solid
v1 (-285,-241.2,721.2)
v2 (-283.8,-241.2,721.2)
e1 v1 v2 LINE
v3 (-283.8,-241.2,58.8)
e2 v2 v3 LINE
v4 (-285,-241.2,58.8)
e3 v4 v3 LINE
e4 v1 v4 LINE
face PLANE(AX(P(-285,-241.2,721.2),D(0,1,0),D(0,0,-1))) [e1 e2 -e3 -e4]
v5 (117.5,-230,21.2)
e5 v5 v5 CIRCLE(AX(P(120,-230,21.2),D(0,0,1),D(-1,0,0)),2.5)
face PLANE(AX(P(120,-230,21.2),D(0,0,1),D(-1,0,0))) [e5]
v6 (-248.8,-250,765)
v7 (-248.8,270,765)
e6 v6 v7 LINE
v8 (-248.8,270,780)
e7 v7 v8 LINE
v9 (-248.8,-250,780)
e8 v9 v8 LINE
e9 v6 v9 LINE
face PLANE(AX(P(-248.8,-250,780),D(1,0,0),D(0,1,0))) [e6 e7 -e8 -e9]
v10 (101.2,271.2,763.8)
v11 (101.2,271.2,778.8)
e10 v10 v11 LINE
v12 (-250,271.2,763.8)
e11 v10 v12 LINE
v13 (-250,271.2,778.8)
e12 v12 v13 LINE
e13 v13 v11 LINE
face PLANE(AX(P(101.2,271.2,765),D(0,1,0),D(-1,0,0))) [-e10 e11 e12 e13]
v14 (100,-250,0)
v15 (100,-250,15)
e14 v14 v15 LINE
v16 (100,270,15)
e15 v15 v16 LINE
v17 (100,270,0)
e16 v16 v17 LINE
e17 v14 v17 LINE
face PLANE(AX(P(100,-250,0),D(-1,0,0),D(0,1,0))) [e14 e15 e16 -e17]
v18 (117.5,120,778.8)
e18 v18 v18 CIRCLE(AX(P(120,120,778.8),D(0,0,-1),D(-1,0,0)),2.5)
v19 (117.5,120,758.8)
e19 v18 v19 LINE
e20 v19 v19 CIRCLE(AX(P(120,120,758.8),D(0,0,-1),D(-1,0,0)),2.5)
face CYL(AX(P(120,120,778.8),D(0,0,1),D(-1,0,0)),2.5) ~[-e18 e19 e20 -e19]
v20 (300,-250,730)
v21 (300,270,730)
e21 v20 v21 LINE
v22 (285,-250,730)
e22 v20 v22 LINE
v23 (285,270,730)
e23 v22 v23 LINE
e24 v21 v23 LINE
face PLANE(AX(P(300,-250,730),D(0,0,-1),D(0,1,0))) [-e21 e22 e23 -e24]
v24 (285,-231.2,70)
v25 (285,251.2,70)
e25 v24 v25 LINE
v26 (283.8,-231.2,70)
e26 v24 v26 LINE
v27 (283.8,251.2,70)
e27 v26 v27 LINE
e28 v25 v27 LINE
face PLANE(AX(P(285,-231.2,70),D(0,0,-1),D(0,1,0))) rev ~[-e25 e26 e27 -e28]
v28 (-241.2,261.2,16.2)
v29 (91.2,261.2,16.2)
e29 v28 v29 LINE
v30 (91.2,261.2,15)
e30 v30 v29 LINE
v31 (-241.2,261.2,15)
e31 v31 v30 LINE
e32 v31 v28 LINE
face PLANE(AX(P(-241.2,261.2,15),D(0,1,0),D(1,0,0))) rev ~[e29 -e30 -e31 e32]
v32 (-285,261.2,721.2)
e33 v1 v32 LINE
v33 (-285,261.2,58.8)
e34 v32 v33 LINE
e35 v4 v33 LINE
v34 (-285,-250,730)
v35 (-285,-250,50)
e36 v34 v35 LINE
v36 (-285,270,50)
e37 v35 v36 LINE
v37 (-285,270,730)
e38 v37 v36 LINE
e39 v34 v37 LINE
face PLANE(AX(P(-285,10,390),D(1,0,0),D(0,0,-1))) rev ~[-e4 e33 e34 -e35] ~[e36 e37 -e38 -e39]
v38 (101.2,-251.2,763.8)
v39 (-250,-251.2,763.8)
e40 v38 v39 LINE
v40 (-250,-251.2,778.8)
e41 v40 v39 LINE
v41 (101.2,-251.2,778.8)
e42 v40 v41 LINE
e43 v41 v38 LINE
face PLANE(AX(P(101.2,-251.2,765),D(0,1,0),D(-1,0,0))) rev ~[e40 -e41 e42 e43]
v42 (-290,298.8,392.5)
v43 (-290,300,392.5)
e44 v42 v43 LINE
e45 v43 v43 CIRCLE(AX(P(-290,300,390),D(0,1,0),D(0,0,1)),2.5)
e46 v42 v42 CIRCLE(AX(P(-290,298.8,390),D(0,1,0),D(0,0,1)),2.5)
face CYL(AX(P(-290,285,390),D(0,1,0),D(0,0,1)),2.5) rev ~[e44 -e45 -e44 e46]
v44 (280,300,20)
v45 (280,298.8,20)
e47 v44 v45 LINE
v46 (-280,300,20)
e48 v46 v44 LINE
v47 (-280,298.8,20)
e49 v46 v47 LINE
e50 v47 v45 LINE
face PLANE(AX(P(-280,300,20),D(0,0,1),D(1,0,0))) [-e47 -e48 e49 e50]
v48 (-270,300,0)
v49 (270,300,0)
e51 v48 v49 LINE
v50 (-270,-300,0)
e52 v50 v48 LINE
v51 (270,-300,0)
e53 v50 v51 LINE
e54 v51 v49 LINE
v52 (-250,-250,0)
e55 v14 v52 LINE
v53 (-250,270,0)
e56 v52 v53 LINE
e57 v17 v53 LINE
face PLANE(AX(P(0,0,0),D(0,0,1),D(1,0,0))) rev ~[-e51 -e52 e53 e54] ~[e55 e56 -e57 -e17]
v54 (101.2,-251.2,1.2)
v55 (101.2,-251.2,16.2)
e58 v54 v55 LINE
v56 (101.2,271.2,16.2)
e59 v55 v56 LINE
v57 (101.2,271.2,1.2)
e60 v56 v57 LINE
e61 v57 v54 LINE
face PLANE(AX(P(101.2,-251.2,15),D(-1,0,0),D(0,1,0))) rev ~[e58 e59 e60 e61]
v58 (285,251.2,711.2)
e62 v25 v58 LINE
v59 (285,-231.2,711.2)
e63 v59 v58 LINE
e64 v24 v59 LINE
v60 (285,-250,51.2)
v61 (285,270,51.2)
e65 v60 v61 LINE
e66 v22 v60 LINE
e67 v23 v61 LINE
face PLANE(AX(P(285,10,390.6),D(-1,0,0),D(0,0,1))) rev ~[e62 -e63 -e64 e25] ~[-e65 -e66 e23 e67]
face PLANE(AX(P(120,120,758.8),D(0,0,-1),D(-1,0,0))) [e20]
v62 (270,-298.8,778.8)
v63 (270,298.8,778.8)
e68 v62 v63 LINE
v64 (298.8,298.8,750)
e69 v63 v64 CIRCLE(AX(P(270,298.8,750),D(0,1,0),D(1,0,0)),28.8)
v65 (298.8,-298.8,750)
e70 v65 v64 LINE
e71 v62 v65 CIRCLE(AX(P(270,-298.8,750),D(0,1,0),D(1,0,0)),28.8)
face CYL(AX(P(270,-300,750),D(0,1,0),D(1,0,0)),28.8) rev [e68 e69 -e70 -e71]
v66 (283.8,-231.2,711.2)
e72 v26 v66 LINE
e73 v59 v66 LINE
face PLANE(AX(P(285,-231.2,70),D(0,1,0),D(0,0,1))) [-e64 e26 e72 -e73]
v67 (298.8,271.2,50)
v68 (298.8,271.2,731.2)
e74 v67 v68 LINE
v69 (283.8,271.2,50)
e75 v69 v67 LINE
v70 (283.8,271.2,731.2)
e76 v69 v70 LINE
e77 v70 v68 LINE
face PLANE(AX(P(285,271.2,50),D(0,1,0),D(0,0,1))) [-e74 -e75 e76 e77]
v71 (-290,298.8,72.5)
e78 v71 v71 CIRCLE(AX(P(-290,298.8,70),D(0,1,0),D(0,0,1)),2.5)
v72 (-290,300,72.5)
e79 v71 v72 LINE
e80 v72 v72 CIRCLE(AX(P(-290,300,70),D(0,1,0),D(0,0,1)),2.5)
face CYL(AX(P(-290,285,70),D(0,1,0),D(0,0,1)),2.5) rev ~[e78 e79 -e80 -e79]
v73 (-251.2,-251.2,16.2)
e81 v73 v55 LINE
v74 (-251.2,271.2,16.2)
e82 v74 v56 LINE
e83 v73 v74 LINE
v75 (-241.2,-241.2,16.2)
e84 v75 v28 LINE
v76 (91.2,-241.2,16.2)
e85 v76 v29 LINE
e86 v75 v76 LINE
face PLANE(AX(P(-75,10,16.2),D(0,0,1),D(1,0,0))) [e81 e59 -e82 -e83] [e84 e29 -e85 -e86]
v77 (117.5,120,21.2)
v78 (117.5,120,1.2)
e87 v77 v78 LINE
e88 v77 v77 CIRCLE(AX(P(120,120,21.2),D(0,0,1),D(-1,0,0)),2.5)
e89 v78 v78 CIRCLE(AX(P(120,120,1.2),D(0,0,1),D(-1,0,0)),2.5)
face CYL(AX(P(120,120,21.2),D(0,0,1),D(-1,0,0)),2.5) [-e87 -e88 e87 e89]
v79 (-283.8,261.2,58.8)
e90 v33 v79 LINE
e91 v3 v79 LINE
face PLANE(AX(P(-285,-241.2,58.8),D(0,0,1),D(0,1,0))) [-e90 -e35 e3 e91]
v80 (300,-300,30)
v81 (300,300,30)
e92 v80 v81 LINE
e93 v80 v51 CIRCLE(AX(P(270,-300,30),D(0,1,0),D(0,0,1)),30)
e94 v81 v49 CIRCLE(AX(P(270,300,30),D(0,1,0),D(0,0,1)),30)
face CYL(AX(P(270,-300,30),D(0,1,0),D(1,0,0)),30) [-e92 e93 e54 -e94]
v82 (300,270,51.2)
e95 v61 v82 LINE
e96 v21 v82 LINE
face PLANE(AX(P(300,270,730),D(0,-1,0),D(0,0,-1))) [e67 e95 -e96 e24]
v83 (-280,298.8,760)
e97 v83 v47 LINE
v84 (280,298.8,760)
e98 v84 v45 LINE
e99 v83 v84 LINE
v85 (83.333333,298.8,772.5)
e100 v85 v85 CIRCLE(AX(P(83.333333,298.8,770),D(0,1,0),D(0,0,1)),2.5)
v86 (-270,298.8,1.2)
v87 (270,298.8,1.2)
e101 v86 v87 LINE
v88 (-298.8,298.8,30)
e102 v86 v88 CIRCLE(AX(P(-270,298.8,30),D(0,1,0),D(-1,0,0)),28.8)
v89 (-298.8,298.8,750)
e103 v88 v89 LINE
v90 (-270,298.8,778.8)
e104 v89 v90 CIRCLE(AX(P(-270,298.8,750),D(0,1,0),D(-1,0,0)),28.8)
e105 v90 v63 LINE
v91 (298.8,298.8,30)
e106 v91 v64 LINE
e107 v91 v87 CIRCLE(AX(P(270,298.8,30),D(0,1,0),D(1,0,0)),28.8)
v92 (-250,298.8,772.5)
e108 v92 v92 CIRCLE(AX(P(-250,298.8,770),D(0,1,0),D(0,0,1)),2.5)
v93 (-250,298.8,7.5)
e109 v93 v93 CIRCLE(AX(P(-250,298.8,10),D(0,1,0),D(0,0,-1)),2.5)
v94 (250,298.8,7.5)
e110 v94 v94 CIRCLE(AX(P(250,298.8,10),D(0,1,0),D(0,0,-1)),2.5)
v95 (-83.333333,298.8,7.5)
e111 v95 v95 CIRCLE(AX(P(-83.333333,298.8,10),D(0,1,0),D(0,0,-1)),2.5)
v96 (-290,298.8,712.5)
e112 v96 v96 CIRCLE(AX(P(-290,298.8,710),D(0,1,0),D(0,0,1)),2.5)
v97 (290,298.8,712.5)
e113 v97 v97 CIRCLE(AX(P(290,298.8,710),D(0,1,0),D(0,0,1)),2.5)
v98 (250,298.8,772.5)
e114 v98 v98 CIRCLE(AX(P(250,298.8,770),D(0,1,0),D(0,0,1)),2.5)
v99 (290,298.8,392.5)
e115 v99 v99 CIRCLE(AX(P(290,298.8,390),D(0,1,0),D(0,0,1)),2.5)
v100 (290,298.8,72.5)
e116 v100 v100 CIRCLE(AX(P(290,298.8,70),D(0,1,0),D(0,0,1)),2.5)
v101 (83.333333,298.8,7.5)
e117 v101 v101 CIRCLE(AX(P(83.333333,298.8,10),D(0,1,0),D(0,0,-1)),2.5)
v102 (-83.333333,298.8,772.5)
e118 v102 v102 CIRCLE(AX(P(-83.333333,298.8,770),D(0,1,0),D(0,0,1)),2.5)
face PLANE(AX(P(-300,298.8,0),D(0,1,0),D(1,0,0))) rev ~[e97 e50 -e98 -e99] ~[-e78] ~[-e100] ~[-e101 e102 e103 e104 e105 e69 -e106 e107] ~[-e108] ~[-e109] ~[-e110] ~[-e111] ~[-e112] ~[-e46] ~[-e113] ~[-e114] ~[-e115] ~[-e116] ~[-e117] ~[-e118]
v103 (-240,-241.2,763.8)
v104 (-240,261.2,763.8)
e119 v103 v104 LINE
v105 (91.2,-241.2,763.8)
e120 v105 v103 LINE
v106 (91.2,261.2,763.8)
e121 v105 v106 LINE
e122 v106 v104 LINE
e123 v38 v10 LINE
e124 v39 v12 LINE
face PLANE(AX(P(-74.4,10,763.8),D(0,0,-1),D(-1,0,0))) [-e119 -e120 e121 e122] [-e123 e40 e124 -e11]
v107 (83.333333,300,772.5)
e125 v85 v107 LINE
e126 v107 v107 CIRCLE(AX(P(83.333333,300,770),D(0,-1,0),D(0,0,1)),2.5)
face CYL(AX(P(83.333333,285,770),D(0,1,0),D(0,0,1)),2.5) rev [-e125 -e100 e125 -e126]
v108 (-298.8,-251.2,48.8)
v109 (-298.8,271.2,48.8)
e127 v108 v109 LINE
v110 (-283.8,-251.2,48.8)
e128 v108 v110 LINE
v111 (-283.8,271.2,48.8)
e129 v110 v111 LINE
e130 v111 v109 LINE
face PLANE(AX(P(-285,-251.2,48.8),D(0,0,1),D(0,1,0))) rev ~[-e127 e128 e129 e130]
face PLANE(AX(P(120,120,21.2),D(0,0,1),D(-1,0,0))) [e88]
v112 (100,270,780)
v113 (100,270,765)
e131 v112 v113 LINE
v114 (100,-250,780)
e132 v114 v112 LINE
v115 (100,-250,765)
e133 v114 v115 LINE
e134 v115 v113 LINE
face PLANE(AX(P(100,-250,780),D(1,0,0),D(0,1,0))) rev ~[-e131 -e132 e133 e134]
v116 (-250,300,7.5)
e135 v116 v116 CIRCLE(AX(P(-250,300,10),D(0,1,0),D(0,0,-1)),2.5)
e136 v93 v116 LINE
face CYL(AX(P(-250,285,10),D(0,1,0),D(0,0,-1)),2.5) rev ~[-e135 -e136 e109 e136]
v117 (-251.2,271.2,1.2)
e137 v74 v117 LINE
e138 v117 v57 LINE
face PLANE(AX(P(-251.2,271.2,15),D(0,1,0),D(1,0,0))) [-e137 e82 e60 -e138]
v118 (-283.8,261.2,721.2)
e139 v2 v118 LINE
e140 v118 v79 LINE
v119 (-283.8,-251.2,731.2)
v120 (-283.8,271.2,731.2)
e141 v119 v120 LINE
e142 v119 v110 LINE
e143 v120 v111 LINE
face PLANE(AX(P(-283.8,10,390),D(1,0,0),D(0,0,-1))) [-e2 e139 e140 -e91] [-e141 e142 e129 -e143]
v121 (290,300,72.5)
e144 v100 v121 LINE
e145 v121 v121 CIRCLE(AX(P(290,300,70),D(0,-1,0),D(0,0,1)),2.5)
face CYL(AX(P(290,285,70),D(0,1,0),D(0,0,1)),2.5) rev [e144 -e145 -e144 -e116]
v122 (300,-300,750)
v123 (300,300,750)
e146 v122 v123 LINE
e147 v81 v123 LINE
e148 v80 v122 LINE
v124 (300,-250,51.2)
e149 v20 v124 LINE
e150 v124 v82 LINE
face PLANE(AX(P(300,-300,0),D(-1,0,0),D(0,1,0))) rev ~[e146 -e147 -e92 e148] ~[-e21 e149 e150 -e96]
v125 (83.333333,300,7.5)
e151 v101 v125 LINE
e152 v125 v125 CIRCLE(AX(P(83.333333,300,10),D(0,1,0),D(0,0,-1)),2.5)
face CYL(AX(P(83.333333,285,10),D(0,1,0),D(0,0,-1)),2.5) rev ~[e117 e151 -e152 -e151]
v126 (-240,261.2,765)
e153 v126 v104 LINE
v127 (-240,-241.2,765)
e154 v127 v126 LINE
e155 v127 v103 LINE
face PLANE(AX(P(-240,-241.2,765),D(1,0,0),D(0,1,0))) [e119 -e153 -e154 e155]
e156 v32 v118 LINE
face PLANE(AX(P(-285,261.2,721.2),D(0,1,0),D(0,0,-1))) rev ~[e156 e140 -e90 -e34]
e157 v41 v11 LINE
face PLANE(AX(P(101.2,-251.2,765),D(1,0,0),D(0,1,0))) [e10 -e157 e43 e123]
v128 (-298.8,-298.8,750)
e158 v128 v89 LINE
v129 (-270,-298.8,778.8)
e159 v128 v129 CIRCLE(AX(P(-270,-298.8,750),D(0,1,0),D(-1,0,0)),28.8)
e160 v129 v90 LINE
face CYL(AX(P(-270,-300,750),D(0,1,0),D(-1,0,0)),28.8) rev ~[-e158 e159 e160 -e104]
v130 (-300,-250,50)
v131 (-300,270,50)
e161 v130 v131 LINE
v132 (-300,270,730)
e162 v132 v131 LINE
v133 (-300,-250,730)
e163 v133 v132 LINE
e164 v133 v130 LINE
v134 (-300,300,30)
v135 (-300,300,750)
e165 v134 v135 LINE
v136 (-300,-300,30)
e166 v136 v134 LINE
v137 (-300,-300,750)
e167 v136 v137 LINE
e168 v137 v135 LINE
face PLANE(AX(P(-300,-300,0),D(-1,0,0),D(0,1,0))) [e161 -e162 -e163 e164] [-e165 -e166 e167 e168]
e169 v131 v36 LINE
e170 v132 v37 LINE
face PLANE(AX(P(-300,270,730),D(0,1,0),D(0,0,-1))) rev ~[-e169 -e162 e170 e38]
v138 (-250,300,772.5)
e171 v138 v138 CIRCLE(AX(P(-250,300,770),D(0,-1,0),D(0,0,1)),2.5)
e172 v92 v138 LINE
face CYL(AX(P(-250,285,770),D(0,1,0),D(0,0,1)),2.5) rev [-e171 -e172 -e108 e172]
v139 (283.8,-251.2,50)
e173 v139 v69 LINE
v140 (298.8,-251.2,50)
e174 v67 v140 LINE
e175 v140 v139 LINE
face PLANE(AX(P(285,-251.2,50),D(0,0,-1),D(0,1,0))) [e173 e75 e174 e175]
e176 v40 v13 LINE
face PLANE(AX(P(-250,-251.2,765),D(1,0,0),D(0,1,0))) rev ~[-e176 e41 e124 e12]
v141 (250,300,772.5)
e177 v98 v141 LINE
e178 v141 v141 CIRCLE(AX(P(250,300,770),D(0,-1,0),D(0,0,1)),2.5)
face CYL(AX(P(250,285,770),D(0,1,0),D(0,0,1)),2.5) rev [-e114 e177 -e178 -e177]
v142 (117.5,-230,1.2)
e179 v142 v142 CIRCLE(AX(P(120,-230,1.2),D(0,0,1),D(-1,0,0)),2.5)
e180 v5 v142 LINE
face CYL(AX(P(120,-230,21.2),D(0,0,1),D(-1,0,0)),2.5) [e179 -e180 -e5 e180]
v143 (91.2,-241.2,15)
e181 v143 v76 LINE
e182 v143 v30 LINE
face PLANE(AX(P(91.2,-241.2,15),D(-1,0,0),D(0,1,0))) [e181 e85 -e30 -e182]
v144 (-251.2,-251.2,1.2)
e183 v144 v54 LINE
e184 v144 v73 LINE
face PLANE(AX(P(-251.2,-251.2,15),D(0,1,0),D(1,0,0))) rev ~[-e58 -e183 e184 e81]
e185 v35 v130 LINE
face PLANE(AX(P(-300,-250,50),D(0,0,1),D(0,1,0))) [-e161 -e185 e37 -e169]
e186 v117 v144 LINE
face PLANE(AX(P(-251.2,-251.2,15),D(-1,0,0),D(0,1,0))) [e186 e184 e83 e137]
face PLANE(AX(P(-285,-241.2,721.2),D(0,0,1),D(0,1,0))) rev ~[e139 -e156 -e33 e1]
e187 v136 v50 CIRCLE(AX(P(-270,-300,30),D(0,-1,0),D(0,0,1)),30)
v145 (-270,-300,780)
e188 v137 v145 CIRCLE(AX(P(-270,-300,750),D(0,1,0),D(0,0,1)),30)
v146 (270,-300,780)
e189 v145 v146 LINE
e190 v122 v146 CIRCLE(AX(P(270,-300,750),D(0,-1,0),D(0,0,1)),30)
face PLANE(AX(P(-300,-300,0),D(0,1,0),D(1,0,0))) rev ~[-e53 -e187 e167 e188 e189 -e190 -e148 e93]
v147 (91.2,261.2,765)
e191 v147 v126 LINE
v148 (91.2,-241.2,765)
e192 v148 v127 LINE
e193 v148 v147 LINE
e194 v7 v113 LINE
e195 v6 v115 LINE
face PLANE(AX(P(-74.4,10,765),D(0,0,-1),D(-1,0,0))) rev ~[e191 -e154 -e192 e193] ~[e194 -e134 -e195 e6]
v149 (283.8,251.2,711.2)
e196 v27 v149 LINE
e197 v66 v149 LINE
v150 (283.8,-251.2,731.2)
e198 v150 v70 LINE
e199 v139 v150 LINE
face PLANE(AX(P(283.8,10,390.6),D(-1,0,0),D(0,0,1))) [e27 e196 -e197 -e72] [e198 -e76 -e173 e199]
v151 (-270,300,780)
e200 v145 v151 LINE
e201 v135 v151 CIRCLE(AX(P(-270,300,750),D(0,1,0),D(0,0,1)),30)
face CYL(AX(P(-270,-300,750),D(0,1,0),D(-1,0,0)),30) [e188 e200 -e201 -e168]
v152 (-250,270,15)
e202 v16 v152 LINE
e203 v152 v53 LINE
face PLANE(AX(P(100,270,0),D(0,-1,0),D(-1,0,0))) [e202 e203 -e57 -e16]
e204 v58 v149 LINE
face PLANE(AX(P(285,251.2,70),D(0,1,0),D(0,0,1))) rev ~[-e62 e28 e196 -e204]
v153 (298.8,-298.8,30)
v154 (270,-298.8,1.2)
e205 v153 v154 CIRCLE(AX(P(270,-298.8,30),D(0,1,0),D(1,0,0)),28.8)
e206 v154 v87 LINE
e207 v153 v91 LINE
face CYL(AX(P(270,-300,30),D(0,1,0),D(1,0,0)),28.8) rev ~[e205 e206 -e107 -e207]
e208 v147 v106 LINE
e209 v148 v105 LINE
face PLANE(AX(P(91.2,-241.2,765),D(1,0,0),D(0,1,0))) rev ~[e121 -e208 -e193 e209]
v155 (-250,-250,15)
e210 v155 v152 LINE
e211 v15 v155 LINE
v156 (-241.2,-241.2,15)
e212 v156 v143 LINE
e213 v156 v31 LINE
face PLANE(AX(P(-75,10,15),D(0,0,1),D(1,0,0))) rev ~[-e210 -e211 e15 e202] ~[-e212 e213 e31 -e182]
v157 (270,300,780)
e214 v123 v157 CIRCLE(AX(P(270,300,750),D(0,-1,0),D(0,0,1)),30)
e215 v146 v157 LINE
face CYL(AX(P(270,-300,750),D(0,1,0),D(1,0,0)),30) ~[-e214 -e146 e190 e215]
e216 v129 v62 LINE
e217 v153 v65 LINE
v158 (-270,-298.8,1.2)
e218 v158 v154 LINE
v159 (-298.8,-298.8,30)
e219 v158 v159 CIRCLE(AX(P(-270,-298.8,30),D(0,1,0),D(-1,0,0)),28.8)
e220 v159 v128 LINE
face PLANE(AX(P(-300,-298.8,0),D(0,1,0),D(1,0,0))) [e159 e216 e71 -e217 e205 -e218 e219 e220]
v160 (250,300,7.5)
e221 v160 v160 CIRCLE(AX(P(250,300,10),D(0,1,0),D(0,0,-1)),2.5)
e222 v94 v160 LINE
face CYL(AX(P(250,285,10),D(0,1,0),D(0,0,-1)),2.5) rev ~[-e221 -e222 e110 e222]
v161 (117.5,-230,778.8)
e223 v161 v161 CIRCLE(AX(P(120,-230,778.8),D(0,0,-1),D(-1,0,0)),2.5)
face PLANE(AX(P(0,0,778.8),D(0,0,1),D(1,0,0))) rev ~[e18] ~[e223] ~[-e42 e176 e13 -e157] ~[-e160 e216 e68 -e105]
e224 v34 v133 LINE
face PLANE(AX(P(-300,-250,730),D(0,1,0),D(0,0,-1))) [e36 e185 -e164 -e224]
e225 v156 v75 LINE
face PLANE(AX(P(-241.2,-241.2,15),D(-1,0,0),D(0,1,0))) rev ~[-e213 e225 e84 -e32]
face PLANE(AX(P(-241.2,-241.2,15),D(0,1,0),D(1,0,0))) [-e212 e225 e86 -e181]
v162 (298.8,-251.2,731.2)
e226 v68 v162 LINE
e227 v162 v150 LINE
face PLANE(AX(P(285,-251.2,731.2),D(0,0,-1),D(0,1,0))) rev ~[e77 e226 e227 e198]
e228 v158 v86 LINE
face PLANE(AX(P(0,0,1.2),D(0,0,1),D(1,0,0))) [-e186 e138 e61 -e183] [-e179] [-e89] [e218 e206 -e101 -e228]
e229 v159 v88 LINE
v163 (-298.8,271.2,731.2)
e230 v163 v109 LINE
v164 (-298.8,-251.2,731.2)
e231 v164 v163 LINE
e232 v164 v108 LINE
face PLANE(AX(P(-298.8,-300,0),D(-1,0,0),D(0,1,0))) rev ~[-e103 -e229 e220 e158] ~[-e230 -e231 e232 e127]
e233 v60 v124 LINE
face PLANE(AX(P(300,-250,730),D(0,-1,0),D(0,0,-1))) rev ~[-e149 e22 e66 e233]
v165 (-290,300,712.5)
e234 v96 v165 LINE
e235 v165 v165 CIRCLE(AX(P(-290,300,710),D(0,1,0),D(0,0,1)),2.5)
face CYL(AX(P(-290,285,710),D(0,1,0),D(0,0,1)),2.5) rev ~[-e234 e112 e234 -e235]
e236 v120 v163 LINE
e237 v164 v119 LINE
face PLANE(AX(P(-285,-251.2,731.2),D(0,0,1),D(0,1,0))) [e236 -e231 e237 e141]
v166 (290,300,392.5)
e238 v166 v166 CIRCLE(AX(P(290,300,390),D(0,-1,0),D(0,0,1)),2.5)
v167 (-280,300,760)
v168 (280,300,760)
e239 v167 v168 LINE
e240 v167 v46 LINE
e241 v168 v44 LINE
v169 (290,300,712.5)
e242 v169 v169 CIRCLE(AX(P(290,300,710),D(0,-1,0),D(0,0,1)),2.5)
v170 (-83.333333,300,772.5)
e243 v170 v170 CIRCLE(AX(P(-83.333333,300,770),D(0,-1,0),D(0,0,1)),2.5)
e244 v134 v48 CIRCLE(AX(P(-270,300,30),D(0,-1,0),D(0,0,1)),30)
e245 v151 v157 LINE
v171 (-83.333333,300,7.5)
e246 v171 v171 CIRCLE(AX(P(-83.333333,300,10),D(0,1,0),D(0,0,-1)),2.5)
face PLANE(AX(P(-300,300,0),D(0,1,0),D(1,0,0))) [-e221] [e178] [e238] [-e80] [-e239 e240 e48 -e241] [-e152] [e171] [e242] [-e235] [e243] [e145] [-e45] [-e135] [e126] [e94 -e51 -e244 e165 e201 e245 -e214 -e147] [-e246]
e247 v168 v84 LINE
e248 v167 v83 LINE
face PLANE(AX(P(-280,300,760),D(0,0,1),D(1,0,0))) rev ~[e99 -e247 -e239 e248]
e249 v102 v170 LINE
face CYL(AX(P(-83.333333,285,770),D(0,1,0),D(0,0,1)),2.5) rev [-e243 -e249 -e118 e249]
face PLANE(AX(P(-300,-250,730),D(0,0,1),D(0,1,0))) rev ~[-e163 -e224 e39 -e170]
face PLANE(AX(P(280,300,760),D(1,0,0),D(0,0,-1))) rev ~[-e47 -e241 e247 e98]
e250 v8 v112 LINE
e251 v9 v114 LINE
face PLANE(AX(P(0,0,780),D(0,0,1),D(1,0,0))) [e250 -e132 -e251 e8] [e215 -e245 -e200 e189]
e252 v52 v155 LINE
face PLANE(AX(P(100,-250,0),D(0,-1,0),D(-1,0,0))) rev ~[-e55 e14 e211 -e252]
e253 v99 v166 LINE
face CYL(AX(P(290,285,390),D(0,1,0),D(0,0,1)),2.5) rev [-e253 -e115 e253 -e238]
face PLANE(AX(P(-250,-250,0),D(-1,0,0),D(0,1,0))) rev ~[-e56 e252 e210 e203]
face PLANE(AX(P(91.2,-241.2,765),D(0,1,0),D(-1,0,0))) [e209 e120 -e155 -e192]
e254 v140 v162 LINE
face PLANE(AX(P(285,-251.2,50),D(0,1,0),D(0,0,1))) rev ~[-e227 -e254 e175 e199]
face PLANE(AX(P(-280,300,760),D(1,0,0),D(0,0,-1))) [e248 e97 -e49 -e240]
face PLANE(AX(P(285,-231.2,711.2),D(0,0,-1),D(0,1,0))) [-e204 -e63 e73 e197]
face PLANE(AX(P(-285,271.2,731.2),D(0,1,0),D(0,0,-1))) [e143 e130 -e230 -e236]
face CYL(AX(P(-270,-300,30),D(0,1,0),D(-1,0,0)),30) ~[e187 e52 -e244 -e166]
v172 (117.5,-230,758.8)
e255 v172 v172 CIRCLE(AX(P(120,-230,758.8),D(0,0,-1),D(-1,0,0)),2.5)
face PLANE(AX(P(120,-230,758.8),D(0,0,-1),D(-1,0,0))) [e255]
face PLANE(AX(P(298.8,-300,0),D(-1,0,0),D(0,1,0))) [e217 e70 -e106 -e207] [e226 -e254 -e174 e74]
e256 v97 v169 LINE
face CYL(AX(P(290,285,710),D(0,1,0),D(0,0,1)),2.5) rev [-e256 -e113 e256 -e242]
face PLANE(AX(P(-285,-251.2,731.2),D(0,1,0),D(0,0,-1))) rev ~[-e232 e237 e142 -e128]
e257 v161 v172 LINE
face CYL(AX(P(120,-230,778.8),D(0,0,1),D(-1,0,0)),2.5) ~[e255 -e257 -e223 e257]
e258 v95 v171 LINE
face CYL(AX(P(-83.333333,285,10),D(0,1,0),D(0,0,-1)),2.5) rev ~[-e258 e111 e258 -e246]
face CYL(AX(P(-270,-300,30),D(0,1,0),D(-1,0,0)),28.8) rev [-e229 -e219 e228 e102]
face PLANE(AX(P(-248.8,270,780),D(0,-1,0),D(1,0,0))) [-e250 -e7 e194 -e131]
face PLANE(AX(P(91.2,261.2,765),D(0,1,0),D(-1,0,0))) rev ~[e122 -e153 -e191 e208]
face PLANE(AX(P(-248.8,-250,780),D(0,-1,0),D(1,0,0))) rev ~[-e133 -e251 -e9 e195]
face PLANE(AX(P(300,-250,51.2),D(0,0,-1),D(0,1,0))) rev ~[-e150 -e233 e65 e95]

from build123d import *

# Parameters (mm, degrees)
SKETCH_1_W                  = 600
SKETCH_1_H                  = 600
EXTRUDE_1_DEPTH             = 780
FILLET_1_R                  = 30
SHELL_1_T                   = 1.2
SKETCH_13_W                 = 348.8
SKETCH_13_H                 = 520
CUT_EXTRUDE_6_DEPTH         = 10
SKETCH_15_W                 = 351.2
SKETCH_15_H                 = 522.4
SKETCH_15_W_2               = 348.8
SKETCH_15_H_2               = 520
EXTRUDE_7_DEPTH             = 15
SKETCH_16_W                 = 351.2
SKETCH_16_H                 = 522.4
SKETCH_16_W_2               = 331.2
SKETCH_16_H_2               = 502.4
EXTRUDE_8_DEPTH             = 1.2
SKETCH_17_W                 = 680
SKETCH_17_H                 = 520
CUT_EXTRUDE_7_DEPTH         = 1.2
SKETCH_19_W                 = 350
SKETCH_19_H                 = 520
CUT_EXTRUDE_8_DEPTH         = 1.2
SKETCH_22_W                 = 352.4
SKETCH_22_H                 = 522.4
SKETCH_22_W_2               = 350
SKETCH_22_H_2               = 520
EXTRUDE_9_DEPTH             = 15
SKETCH_23_W                 = 352.4
SKETCH_23_H                 = 522.4
SKETCH_23_W_2               = 332.4
SKETCH_23_H_2               = 502.4
EXTRUDE_10_DEPTH            = 1.2
SKETCH_24_W                 = 682.4
SKETCH_24_H                 = 522.4
SKETCH_24_W_2               = 680
SKETCH_24_H_2               = 520
EXTRUDE_11_DEPTH            = 15
SKETCH_26_W                 = 682.4
SKETCH_26_H                 = 522.4
SKETCH_26_W_2               = 662.4
SKETCH_26_H_2               = 502.4
EXTRUDE_12_DEPTH            = 1.2
SKETCH_27_W                 = 560
SKETCH_27_H                 = 740
CUT_EXTRUDE_9_DEPTH         = 10
PATTERN_LINEAR_1_COUNT      = 4
PATTERN_LINEAR_1_PITCH      = 166.666666667
HOLE_WIZARD_M6_2_AT_2_COUNT = 2
HOLE_WIZARD_M6_2_AT_2_PITCH = 320
HOLE_WIZARD_M6_2_AT_3_COUNT = 2
HOLE_WIZARD_M6_2_AT_3_PITCH = 640
SKETCH_32_W                 = 678.8
SKETCH_32_H                 = 520
CUT_EXTRUDE_10_DEPTH        = 10
SKETCH_33_W                 = 681.2
SKETCH_33_H                 = 522.4
SKETCH_33_W_2               = 678.8
SKETCH_33_H_2               = 520
EXTRUDE_13_DEPTH            = 15
SKETCH_34_W                 = 681.2
SKETCH_34_H                 = 522.4
SKETCH_34_W_2               = 641.2
SKETCH_34_H_2               = 482.4
EXTRUDE_14_DEPTH            = 1.2
SKETCH_35_R                 = 2.5
EXTRUDE_15_DEPTH            = 20
EXTRUDE_START               = 20
SKETCH_36_R                 = 2.5
EXTRUDE_16_DEPTH            = 20


with BuildPart() as part:
    # 草图1 → 凸台-拉伸1 (new body)
    with BuildSketch(Plane.XY):
        Rectangle(SKETCH_1_W, SKETCH_1_H)
    extrude(amount=EXTRUDE_1_DEPTH)

    # 圆角1
    fillet_1_edges = [part.edges().sort_by_distance(p)[0] for p in [
        (-300, 0, 780),
        (300, 0, 780),
        (-300, 0, 0),
        (300, 0, 0),
    ]]
    fillet(fillet_1_edges, radius=FILLET_1_R)

    # 抽壳1 (no face opened: a closed hollow body)
    add(offset(amount=-SHELL_1_T, mode=Mode.PRIVATE), mode=Mode.SUBTRACT)

    # 草图13 → 切除-拉伸6 (cut)
    with BuildSketch(Plane.XY.offset(780)):
        with Locations((-74.4, 10)):
            Rectangle(SKETCH_13_W, SKETCH_13_H)
    extrude(amount=-CUT_EXTRUDE_6_DEPTH, mode=Mode.SUBTRACT)

    # 草图15 → 凸台-拉伸7 (add)
    with BuildSketch(Plane.XY.offset(780)):
        with Locations((-74.4, 10)):
            Rectangle(SKETCH_15_W, SKETCH_15_H)
        with Locations((-74.4, 10)):
            Rectangle(SKETCH_15_W_2, SKETCH_15_H_2, mode=Mode.SUBTRACT)
    extrude(amount=-EXTRUDE_7_DEPTH)

    # 草图16 → 凸台-拉伸8 (add)
    with BuildSketch(Plane(origin=(0, 0, 765), x_dir=(-1, 0, 0), z_dir=(0, 0, -1))):
        with Locations((74.4, 10)):
            Rectangle(SKETCH_16_W, SKETCH_16_H)
        with Locations((74.4, 10)):
            Rectangle(SKETCH_16_W_2, SKETCH_16_H_2, mode=Mode.SUBTRACT)
    extrude(amount=EXTRUDE_8_DEPTH)

    # 草图17 → 切除-拉伸7 (cut)
    with BuildSketch(Plane(origin=(-300, 0, 0), x_dir=(0, 0, -1), z_dir=(1, 0, 0))):
        with Locations((-390, 10)):
            Rectangle(SKETCH_17_W, SKETCH_17_H)
    extrude(amount=CUT_EXTRUDE_7_DEPTH, mode=Mode.SUBTRACT)

    # 草图19 → 切除-拉伸8 (cut)
    with BuildSketch(Plane(origin=(0, 0, 0), x_dir=(-1, 0, 0), z_dir=(0, 0, -1))):
        with Locations((75, 10)):
            Rectangle(SKETCH_19_W, SKETCH_19_H)
    extrude(amount=-CUT_EXTRUDE_8_DEPTH, mode=Mode.SUBTRACT)

    # 草图22 → 凸台-拉伸9 (add)
    with BuildSketch(Plane(origin=(0, 0, 0), x_dir=(-1, 0, 0), z_dir=(0, 0, -1))):
        with Locations((75, 10)):
            Rectangle(SKETCH_22_W, SKETCH_22_H)
        with Locations((75, 10)):
            Rectangle(SKETCH_22_W_2, SKETCH_22_H_2, mode=Mode.SUBTRACT)
    extrude(amount=-EXTRUDE_9_DEPTH)

    # 草图23 → 凸台-拉伸10 (add)
    with BuildSketch(Plane.XY.offset(15)):
        with Locations((-75, 10)):
            Rectangle(SKETCH_23_W, SKETCH_23_H)
        with Locations((-75, 10)):
            Rectangle(SKETCH_23_W_2, SKETCH_23_H_2, mode=Mode.SUBTRACT)
    extrude(amount=EXTRUDE_10_DEPTH)

    # 草图24 → 凸台-拉伸11 (add)
    with BuildSketch(Plane(origin=(-300, 0, 0), x_dir=(0, 0, -1), z_dir=(1, 0, 0))):
        with Locations((-390, 10)):
            Rectangle(SKETCH_24_W, SKETCH_24_H)
        with Locations((-390, 10)):
            Rectangle(SKETCH_24_W_2, SKETCH_24_H_2, mode=Mode.SUBTRACT)
    extrude(amount=EXTRUDE_11_DEPTH)

    # 草图26 → 凸台-拉伸12 (add)
    with BuildSketch(Plane(origin=(-285, 0, 0), x_dir=(0, 0, -1), z_dir=(1, 0, 0))):
        with Locations((-390, 10)):
            Rectangle(SKETCH_26_W, SKETCH_26_H)
        with Locations((-390, 10)):
            Rectangle(SKETCH_26_W_2, SKETCH_26_H_2, mode=Mode.SUBTRACT)
    extrude(amount=EXTRUDE_12_DEPTH)

    # 草图27 → 切除-拉伸9 (cut)
    with BuildSketch(Plane(origin=(0, 300, 0), x_dir=(1, 0, 0), z_dir=(0, 1, 0))):
        with Locations((0, -390)):
            Rectangle(SKETCH_27_W, SKETCH_27_H)
    extrude(amount=-CUT_EXTRUDE_9_DEPTH, mode=Mode.SUBTRACT)

    # 草图29 → M6 螺纹孔1 (revolve, cut)
    with BuildSketch(Plane(origin=(250, 300, 770), x_dir=(0, 0, 1), z_dir=(1, 0, 0))):
        Polygon((0, 0), (0, 16.502151548), (2.5, 15), (2.5, 0), align=None)
    hole_wizard_m6_1 = revolve(axis=Axis((250, 306.35, 770), (0, -1, 0)), mode=Mode.SUBTRACT)

    # 阵列(线性)1: M6 螺纹孔1 ×4
    with Locations(*[(-i * PATTERN_LINEAR_1_PITCH, 0, 0) for i in range(1, PATTERN_LINEAR_1_COUNT)]):
        add(hole_wizard_m6_1, mode=Mode.SUBTRACT)

    # 镜向1: M6 螺纹孔1 across plane
    add(hole_wizard_m6_1.mirror(Plane(origin=(0, 0, 390), x_dir=(1, 0, 0), z_dir=(0, 0, -1))), mode=Mode.SUBTRACT)

    # 镜向1 copy 1 sketch → 镜向1 copy 1 (revolve, cut)
    with BuildSketch(Plane(origin=(83.333333333, 300, 10), x_dir=(0, 0, -1), z_dir=(1, 0, 0))):
        Polygon((0, 0), (0, -16.502151548), (2.5, -15), (2.5, 0), align=None)
    revolve(axis=Axis((83.333333333, 306.35, 10), (0, 1, 0)), mode=Mode.SUBTRACT)

    # 镜向1 copy 2 sketch → 镜向1 copy 2 (revolve, cut)
    with BuildSketch(Plane(origin=(-83.333333333, 300, 10), x_dir=(0, 0, -1), z_dir=(1, 0, 0))):
        Polygon((0, 0), (0, -16.502151548), (2.5, -15), (2.5, 0), align=None)
    revolve(axis=Axis((-83.333333333, 306.35, 10), (0, 1, 0)), mode=Mode.SUBTRACT)

    # 镜向1 copy 3 sketch → 镜向1 copy 3 (revolve, cut)
    with BuildSketch(Plane(origin=(-250, 300, 10), x_dir=(0, 0, -1), z_dir=(1, 0, 0))):
        Polygon((0, 0), (0, -16.502151548), (2.5, -15), (2.5, 0), align=None)
    revolve(axis=Axis((-250, 306.35, 10), (0, 1, 0)), mode=Mode.SUBTRACT)

    # 草图31 → M6 螺纹孔2 (revolve, cut)
    with BuildSketch(Plane(origin=(290, 300, 710), x_dir=(0, 0, 1), z_dir=(1, 0, 0))):
        Polygon((0, 0), (0, 16.502151548), (2.5, 15), (2.5, 0), align=None)
    hole_wizard_m6_2 = revolve(axis=Axis((290, 306.35, 710), (0, -1, 0)), mode=Mode.SUBTRACT)

    # M6 螺纹孔2 at 2: M6 螺纹孔2 ×2
    with Locations(*[(0, 0, -i * HOLE_WIZARD_M6_2_AT_2_PITCH) for i in range(1, HOLE_WIZARD_M6_2_AT_2_COUNT)]):
        add(hole_wizard_m6_2, mode=Mode.SUBTRACT)

    # M6 螺纹孔2 at 3: M6 螺纹孔2 ×2
    with Locations(*[(0, 0, -i * HOLE_WIZARD_M6_2_AT_3_PITCH) for i in range(1, HOLE_WIZARD_M6_2_AT_3_COUNT)]):
        add(hole_wizard_m6_2, mode=Mode.SUBTRACT)

    # 镜向2: M6 螺纹孔2 across plane
    add(hole_wizard_m6_2.mirror(Plane(origin=(0, 0, 0), x_dir=(0, 0, 1), z_dir=(1, 0, 0))), mode=Mode.SUBTRACT)

    # 镜向2 copy 1 sketch → 镜向2 copy 1 (revolve, cut)
    with BuildSketch(Plane(origin=(-290, 300, 390), x_dir=(0, 0, 1), z_dir=(-1, 0, 0))):
        Polygon((0, 0), (0, -16.502151548), (2.5, -15), (2.5, 0), align=None)
    revolve(axis=Axis((-290, 306.35, 390), (0, 1, 0)), mode=Mode.SUBTRACT)

    # 镜向2 copy 2 sketch → 镜向2 copy 2 (revolve, cut)
    with BuildSketch(Plane(origin=(-290, 300, 70), x_dir=(0, 0, 1), z_dir=(-1, 0, 0))):
        Polygon((0, 0), (0, -16.502151548), (2.5, -15), (2.5, 0), align=None)
    revolve(axis=Axis((-290, 306.35, 70), (0, 1, 0)), mode=Mode.SUBTRACT)

    # 镜向3: M6 螺纹孔2 across plane
    add(hole_wizard_m6_2.mirror(Plane(origin=(0, 0, 0), x_dir=(0, 0, 1), z_dir=(1, 0, 0))), mode=Mode.SUBTRACT)

    # 镜向3 copy 1 sketch → 镜向3 copy 1 (revolve, cut)
    with BuildSketch(Plane(origin=(-290, 300, 390), x_dir=(0, 0, 1), z_dir=(-1, 0, 0))):
        Polygon((0, 0), (0, -16.502151548), (2.5, -15), (2.5, 0), align=None)
    revolve(axis=Axis((-290, 306.35, 390), (0, 1, 0)), mode=Mode.SUBTRACT)

    # 镜向3 copy 2 sketch → 镜向3 copy 2 (revolve, cut)
    with BuildSketch(Plane(origin=(-290, 300, 70), x_dir=(0, 0, 1), z_dir=(-1, 0, 0))):
        Polygon((0, 0), (0, -16.502151548), (2.5, -15), (2.5, 0), align=None)
    revolve(axis=Axis((-290, 306.35, 70), (0, 1, 0)), mode=Mode.SUBTRACT)

    # 草图32 → 切除-拉伸10 (cut)
    with BuildSketch(Plane(origin=(300, 0, 0), x_dir=(0, 0, -1), z_dir=(1, 0, 0))):
        with Locations((-390.6, 10)):
            Rectangle(SKETCH_32_W, SKETCH_32_H)
    extrude(amount=-CUT_EXTRUDE_10_DEPTH, mode=Mode.SUBTRACT)

    # 草图33 → 凸台-拉伸13 (add)
    with BuildSketch(Plane(origin=(300, 0, 0), x_dir=(0, 0, -1), z_dir=(1, 0, 0))):
        with Locations((-390.6, 10)):
            Rectangle(SKETCH_33_W, SKETCH_33_H)
        with Locations((-390.6, 10)):
            Rectangle(SKETCH_33_W_2, SKETCH_33_H_2, mode=Mode.SUBTRACT)
    extrude(amount=-EXTRUDE_13_DEPTH)

    # 草图34 → 凸台-拉伸14 (add)
    with BuildSketch(Plane.ZY.offset(-285)):
        with Locations((390.6, 10)):
            Rectangle(SKETCH_34_W, SKETCH_34_H)
        with Locations((390.6, 10)):
            Rectangle(SKETCH_34_W_2, SKETCH_34_H_2, mode=Mode.SUBTRACT)
    extrude(amount=EXTRUDE_14_DEPTH)

    # 草图35 → 凸台-拉伸15 (add)
    with BuildSketch(Plane(origin=(0, 0, 778.8), x_dir=(-1, 0, 0), z_dir=(0, 0, -1))):
        with Locations((-120, 120)):
            Circle(SKETCH_35_R)
        with Locations((-120, -230)):
            Circle(SKETCH_35_R)
    extrude(amount=EXTRUDE_15_DEPTH)

    # 草图36 → 凸台-拉伸16 (add)
    with BuildSketch(Plane.XY.offset(1.2).offset(EXTRUDE_START)):
        with Locations(Location((120, 120, 0), (0, 0, 180))):
            Circle(SKETCH_36_R)
        with Locations(Location((120, -230, 0), (0, 0, 180))):
            Circle(SKETCH_36_R)
    extrude(amount=-EXTRUDE_16_DEPTH)


solid = part.part
